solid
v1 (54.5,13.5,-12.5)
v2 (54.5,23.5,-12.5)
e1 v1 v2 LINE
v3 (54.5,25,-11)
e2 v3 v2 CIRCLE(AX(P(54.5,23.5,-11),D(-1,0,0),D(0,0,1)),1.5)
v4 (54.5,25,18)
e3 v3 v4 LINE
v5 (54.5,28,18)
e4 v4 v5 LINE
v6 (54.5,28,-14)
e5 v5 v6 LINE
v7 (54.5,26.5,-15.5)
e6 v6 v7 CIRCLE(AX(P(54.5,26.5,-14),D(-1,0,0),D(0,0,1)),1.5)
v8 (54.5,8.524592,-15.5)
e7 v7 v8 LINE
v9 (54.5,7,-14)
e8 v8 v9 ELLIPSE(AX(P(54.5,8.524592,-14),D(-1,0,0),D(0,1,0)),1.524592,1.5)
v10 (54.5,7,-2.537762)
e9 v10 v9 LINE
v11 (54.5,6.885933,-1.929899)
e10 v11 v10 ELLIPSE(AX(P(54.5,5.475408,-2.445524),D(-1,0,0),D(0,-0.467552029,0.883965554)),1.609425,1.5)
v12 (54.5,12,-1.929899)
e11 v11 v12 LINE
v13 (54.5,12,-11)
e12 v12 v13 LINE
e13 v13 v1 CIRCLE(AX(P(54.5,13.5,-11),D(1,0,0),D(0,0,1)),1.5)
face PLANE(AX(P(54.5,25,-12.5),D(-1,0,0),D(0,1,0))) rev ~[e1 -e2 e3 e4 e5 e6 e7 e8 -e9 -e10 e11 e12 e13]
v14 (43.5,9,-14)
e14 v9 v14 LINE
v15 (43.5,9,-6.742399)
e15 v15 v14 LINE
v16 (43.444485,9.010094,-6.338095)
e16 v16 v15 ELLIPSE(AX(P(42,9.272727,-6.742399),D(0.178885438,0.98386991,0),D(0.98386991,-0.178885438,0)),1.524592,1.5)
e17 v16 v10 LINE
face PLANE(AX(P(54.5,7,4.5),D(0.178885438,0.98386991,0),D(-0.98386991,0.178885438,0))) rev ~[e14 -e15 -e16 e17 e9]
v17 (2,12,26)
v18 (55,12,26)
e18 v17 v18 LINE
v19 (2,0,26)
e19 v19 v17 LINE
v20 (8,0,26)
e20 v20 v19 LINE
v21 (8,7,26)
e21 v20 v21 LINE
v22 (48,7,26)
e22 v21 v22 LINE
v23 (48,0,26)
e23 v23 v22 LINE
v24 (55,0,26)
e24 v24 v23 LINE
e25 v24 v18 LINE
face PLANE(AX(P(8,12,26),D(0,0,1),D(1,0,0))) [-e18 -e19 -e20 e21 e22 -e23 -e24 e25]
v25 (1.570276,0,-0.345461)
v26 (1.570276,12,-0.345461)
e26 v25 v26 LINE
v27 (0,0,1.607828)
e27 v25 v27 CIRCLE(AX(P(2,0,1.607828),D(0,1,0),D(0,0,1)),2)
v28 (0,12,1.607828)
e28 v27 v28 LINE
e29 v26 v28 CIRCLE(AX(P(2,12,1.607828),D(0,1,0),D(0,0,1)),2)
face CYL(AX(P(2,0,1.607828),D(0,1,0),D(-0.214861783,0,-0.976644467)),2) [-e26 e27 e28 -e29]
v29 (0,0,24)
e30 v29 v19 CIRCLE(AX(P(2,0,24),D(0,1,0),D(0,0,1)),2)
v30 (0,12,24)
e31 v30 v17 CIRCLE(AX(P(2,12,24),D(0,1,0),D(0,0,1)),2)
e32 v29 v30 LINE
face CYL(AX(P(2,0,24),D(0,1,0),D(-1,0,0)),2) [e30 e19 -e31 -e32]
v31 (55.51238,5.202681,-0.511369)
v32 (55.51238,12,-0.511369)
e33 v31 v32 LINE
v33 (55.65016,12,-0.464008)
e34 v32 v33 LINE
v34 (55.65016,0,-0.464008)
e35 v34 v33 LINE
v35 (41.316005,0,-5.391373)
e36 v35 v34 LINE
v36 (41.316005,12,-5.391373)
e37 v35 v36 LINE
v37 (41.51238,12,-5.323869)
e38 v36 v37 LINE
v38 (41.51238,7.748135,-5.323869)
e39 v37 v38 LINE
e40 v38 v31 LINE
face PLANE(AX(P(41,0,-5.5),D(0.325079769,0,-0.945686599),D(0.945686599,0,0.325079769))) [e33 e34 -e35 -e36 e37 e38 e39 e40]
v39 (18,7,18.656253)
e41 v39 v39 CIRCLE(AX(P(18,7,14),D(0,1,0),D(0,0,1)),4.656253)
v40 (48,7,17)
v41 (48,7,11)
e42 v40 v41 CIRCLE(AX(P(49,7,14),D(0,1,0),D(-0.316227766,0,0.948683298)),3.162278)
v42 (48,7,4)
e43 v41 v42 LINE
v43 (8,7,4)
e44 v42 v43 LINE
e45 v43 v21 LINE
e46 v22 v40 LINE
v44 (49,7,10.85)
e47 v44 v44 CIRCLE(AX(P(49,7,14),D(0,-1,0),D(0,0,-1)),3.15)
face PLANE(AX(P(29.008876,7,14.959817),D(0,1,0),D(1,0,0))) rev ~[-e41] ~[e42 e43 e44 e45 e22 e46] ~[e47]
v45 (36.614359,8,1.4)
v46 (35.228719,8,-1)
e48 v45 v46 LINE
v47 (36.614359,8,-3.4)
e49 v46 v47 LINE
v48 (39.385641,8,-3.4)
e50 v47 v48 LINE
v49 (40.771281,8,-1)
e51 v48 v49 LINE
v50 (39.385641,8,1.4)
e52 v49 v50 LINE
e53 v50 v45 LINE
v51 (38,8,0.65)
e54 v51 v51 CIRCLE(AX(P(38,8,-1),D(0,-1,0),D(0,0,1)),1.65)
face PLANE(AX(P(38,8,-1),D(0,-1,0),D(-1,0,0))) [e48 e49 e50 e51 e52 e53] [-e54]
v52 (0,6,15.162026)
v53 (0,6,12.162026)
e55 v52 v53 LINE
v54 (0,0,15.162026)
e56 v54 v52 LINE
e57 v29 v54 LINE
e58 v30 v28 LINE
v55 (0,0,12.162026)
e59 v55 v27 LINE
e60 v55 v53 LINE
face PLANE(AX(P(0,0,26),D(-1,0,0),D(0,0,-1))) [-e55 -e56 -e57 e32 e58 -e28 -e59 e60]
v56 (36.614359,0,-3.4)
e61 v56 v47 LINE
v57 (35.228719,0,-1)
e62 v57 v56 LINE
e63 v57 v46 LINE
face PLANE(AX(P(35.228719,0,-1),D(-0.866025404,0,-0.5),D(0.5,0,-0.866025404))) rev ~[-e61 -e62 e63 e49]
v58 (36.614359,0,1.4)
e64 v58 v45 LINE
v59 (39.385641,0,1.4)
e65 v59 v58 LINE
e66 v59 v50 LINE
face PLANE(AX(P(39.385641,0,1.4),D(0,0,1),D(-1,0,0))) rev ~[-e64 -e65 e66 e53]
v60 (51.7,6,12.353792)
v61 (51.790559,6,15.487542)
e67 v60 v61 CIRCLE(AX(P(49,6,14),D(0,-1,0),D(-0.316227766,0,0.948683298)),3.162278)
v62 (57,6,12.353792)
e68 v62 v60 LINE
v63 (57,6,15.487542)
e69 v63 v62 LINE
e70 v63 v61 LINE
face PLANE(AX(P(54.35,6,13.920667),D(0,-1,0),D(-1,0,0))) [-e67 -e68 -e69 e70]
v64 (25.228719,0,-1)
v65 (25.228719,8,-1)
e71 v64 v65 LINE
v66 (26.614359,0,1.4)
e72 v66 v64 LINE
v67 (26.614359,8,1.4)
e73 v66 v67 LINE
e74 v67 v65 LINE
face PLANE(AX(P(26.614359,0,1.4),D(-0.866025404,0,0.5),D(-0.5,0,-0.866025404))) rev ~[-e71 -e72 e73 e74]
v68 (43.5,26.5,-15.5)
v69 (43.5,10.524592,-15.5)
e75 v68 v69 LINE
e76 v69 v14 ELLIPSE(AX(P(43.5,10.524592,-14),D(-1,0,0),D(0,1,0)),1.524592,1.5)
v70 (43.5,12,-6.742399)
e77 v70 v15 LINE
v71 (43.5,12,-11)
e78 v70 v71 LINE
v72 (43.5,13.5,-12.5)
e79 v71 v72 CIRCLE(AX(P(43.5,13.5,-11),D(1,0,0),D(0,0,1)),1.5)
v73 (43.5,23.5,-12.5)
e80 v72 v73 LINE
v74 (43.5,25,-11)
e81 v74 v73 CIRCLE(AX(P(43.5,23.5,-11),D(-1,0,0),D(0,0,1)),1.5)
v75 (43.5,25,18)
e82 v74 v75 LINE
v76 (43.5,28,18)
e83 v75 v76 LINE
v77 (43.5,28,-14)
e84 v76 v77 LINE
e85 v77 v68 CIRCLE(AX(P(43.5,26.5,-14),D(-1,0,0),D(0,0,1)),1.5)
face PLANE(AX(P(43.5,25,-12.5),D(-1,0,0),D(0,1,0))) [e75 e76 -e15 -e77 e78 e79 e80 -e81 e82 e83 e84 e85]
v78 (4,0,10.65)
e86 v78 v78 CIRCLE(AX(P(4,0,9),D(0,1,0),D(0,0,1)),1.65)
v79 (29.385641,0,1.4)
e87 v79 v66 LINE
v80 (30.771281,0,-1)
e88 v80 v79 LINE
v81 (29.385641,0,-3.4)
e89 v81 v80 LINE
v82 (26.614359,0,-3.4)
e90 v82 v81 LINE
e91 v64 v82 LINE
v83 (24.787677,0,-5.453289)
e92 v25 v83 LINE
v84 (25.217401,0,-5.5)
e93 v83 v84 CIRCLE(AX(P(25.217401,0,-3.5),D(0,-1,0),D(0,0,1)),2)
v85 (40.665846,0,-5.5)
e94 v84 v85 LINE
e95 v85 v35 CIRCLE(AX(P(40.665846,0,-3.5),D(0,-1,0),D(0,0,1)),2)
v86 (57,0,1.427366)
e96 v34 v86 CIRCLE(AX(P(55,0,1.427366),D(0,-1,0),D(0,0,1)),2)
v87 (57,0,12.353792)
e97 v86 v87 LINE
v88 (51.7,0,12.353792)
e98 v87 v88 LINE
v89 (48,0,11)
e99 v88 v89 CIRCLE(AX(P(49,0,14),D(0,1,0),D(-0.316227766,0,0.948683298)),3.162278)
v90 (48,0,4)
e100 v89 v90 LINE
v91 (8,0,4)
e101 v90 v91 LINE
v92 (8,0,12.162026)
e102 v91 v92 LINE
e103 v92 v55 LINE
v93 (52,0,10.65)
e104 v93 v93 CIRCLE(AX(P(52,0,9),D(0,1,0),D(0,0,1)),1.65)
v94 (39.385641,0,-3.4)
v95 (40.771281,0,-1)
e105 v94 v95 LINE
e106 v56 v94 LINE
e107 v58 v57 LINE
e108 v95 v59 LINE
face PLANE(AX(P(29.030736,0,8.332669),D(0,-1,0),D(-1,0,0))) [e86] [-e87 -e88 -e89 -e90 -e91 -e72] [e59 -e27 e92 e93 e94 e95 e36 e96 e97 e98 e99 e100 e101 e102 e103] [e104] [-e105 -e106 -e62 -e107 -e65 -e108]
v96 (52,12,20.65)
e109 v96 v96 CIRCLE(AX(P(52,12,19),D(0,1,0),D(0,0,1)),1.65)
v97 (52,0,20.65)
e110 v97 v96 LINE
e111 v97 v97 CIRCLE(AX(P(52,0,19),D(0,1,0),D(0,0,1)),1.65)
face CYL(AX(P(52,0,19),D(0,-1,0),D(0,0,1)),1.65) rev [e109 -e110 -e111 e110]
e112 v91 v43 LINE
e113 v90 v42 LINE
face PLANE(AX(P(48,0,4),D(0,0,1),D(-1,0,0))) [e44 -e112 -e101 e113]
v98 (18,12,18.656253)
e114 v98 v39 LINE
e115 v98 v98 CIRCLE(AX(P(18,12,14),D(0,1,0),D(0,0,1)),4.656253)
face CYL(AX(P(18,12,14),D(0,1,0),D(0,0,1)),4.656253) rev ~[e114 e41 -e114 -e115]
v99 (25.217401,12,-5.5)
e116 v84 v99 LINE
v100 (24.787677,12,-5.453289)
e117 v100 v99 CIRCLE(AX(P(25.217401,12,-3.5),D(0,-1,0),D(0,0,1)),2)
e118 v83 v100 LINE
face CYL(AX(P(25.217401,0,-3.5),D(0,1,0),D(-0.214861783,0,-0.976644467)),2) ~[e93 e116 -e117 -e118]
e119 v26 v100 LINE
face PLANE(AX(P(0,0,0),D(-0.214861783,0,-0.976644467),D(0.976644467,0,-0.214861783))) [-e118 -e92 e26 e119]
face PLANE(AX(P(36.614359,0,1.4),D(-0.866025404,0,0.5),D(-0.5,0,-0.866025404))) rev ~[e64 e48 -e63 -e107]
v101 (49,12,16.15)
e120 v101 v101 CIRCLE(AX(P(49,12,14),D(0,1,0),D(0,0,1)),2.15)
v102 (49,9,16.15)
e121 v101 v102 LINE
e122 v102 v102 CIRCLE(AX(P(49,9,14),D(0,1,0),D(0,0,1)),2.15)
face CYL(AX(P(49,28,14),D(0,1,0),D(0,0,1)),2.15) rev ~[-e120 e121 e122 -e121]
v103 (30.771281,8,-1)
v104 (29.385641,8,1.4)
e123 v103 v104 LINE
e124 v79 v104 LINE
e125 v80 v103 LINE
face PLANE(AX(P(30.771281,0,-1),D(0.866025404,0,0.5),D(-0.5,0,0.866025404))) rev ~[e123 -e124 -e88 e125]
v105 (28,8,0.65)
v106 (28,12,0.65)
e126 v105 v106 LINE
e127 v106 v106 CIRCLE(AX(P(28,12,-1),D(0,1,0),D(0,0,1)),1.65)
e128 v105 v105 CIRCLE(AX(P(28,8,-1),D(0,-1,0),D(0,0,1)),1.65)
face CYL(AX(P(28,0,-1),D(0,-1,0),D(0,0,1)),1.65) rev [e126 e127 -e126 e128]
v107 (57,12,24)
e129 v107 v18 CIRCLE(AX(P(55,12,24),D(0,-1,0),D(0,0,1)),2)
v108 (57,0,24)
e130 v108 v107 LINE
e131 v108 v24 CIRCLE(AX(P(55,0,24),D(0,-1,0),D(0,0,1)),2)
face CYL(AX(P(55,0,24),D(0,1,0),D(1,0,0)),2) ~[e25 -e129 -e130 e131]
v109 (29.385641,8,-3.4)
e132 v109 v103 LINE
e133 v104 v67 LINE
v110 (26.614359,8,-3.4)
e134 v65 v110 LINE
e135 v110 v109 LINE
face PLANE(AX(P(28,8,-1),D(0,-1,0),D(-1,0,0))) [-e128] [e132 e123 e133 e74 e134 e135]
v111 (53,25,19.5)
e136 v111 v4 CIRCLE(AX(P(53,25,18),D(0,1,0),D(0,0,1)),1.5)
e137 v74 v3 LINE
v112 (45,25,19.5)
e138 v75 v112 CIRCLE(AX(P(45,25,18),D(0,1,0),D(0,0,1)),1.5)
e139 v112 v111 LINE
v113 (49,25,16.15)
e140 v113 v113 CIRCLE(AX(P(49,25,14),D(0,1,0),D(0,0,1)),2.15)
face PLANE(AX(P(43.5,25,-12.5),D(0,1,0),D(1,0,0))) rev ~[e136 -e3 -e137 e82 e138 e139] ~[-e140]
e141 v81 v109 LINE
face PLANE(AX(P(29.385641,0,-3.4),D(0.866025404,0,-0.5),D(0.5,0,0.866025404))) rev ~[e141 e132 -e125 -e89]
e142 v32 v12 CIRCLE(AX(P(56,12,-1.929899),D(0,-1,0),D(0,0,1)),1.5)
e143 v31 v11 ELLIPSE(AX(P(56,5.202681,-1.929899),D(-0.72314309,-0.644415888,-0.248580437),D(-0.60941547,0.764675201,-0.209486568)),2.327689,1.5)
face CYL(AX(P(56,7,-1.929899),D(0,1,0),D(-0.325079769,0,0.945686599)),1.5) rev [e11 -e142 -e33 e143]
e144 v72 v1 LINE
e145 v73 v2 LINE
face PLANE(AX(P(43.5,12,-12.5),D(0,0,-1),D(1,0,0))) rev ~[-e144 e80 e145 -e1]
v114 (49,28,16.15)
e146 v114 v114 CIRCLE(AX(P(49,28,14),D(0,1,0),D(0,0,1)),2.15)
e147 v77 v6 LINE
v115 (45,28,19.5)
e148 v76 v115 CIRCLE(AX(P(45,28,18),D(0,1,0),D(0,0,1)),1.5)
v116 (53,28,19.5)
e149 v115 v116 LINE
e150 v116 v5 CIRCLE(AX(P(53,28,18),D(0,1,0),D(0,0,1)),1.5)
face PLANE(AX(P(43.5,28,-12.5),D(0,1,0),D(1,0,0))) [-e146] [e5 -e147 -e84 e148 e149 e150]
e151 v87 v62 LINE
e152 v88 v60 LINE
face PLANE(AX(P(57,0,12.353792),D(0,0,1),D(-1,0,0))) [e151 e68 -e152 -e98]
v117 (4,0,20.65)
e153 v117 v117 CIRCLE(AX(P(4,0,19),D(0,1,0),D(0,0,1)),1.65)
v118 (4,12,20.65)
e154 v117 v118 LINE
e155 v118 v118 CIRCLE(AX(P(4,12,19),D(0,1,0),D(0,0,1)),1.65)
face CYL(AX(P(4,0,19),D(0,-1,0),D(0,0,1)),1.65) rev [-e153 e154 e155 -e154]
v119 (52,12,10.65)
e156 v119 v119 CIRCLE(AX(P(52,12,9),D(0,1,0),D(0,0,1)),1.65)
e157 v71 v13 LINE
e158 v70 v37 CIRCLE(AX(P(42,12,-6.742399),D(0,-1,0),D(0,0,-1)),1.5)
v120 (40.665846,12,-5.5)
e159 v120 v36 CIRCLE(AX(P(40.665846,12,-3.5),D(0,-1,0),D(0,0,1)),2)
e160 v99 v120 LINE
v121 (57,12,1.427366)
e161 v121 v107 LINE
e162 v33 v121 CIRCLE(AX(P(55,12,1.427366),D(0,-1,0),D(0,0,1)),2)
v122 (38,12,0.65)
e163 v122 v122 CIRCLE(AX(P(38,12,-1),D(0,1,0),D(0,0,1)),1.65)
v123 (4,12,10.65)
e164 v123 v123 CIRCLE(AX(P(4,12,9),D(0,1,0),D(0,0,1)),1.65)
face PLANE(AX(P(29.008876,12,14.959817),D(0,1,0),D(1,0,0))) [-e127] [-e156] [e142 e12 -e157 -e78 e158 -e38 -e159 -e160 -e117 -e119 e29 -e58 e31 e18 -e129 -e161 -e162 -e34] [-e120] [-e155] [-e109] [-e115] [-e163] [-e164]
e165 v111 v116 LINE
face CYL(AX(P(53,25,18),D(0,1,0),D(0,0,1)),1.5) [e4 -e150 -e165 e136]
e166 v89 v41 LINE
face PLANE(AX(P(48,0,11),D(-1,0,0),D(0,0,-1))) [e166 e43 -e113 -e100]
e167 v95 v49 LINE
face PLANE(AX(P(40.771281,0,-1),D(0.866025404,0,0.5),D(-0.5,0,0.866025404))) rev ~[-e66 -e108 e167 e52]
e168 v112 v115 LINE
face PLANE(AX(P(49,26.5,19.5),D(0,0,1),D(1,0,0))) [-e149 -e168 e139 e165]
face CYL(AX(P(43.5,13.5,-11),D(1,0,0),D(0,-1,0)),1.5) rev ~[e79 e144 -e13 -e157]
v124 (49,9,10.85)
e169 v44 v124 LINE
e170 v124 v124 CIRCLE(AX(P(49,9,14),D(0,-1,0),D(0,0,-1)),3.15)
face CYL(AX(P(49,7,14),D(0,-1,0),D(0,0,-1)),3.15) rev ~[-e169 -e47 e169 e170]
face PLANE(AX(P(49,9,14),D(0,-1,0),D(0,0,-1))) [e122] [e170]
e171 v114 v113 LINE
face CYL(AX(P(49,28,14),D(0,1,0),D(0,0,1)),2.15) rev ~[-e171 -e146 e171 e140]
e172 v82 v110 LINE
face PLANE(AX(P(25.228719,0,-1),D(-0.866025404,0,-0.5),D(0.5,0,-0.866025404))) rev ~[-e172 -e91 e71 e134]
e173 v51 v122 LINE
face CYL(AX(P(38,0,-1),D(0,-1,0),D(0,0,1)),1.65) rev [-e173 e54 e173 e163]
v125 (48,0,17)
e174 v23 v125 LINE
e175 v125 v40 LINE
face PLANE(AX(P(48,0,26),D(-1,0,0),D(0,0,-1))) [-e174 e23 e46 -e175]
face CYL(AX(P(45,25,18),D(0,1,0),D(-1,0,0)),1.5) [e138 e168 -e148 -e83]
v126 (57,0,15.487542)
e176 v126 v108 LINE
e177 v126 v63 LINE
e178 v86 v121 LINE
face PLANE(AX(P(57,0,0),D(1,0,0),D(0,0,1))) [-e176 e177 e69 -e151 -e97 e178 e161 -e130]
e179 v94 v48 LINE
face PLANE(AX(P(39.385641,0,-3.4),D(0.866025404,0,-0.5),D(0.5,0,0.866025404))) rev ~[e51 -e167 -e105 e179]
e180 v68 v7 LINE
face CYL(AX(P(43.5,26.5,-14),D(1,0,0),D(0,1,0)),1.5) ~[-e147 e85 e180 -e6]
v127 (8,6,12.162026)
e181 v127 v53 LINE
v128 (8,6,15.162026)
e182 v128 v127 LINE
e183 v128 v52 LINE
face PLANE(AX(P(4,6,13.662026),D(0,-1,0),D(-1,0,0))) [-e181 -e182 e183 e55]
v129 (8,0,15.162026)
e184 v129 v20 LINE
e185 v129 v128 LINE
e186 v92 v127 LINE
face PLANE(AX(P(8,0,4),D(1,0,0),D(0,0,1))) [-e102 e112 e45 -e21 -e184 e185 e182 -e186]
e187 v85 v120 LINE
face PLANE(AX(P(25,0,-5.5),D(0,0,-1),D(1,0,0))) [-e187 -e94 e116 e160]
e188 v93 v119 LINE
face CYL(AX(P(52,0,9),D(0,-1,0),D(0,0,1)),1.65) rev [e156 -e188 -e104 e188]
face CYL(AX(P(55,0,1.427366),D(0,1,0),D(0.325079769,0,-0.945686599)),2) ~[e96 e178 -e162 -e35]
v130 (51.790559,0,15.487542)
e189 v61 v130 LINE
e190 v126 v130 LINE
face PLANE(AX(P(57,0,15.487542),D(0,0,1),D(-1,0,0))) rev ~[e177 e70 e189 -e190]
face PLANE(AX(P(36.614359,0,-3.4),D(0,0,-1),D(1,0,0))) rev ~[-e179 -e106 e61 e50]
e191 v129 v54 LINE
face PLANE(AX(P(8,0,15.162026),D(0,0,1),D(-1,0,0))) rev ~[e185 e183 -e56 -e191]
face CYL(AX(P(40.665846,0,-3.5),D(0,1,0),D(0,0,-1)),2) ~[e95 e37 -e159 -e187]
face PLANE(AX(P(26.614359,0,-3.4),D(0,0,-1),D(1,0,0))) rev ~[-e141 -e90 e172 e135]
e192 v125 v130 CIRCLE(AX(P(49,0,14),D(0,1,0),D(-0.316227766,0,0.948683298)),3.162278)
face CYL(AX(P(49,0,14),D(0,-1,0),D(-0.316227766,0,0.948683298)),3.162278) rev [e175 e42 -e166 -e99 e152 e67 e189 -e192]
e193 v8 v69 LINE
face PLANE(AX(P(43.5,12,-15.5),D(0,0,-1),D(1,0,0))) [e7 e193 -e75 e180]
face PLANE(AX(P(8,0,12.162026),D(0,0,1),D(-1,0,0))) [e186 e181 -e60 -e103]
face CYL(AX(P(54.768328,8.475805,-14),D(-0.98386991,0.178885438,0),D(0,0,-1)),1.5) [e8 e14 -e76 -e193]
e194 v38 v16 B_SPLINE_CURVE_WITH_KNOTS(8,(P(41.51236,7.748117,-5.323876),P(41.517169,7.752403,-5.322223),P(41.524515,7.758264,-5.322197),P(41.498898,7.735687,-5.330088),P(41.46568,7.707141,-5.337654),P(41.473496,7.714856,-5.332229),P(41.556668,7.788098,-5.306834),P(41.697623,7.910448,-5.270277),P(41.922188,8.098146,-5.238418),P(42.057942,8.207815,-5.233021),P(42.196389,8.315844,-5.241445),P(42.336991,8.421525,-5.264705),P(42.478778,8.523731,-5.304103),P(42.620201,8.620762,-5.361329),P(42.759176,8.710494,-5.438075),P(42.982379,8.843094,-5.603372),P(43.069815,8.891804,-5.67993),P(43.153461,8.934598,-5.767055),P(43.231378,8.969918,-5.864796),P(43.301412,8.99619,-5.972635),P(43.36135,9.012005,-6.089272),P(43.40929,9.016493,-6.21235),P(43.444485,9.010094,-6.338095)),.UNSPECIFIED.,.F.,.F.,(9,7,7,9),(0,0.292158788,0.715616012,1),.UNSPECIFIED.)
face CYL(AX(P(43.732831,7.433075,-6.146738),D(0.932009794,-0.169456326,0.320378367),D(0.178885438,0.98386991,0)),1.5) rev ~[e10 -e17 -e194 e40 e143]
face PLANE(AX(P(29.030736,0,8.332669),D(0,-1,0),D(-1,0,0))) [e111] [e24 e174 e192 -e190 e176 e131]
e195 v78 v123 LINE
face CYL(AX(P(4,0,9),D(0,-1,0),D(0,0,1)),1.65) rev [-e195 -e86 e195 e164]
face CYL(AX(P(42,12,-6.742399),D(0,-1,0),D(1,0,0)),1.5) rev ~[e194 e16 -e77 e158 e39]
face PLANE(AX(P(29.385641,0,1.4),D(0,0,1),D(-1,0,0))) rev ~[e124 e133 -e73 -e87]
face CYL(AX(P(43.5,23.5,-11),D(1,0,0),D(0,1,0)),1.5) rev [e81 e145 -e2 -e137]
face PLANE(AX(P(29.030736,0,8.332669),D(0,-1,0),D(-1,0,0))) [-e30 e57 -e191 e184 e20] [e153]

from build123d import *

# Parameters (mm, degrees)
SKETCH_1_R           = 1.6500000000000006
SKETCH_1_R_2         = 1.6500000000000001
SKETCH_1_R_3         = 1.6500000000000028
SKETCH_1_R_4         = 1.6500000000000017
SKETCH_1_R_5         = 1.6499999999999986
SKETCH_1_R_6         = 1.6499999999999955
EXTRUDE_1_DEPTH      = 12
CUT_EXTRUDE_1_DEPTH  = 8
FILLET_1_R           = 2
SKETCH_5_R           = 1.5499999999999978
EXTRUDE_3_DEPTH      = 5
SKETCH_5_R_2         = 1.5500000000000012
EXTRUDE_3_2_DEPTH    = 5
SKETCH_5_R_3         = 4.656253475136203
EXTRUDE_3_3_DEPTH    = 5
SKETCH_7_R           = 3.149999999999999
CUT_EXTRUDE_2_DEPTH  = 2
SKETCH_8_W           = 8
SKETCH_8_H           = 3
SKETCH_8_W_2         = 5.29999999999999
SKETCH_8_H_2         = 3.1337502138362687
CUT_EXTRUDE_3_DEPTH  = 6
SKETCH_6_R           = 1.5499999999999974
SKETCH_6_R_2         = 1.5500000000000012
CUT_EXTRUDE_4_DEPTH  = 10
EXTRUDE_9_DEPTH      = 10
EXTRUDE_9_DEPTH_BACK = 10
SKETCH_18_W          = 11.000000000000007
SKETCH_18_H          = 3
EXTRUDE_10_DEPTH     = 16
SKETCH_19_W          = 11.000000000000007
SKETCH_19_H          = 3
EXTRUDE_11_DEPTH     = 32
SKETCH_20_R          = 2.1500000000000012
CUT_EXTRUDE_7_DEPTH  = 22
FILLET_4_R           = 1.5


with BuildPart() as part:
    # 草图1 → 凸台-拉伸1 (new body)
    with BuildSketch(Plane(origin=(0, 0, 0), x_dir=(1, 0, 0), z_dir=(0, 1, 0))):
        with BuildLine():
            Line((0, 0), (25, 5.5))
            Line((25, 5.5), (41, 5.5))
            Line((41, 5.5), (57, 0))
            Line((57, 0), (57, -26.000000000000004))
            Line((57, -26.000000000000004), (48, -26.000000000000004))
            Line((48, -26.000000000000004), (48, -17.000000000000004))
            ThreePointArc((48, -17.000000000000004), (52.16227766016838, -14.000000000000004), (48, -11.000000000000004))
            Line((48, -11.000000000000004), (48, -4.0000000000000036))
            Line((48, -4.0000000000000036), (8.000000000000004, -4.0000000000000036))
            Line((8.000000000000004, -4.0000000000000036), (8.000000000000004, -26.000000000000004))
            Line((8.000000000000004, -26.000000000000004), (0, -26.000000000000004))
            Line((0, -26.000000000000004), (0, 0))
        make_face()
        with Locations(Location((4.000000000000001, -9.000000000000002, 0), (0, 0, 270))):
            Circle(SKETCH_1_R, mode=Mode.SUBTRACT)
        with Locations(Location((4.000000000000001, -19.000000000000004, 0), (0, 0, 270))):
            Circle(SKETCH_1_R_2, mode=Mode.SUBTRACT)
        with Locations(Location((52.00000000000001, -9.000000000000002, 0), (0, 0, 270))):
            Circle(SKETCH_1_R_3, mode=Mode.SUBTRACT)
        with Locations(Location((52.00000000000001, -19.000000000000004, 0), (0, 0, 270))):
            Circle(SKETCH_1_R_4, mode=Mode.SUBTRACT)
        with Locations(Location((28, 0.9999999999999966, 0), (0, 0, 270))):
            Circle(SKETCH_1_R_5, mode=Mode.SUBTRACT)
        with Locations(Location((38, 0.9999999999999966, 0), (0, 0, 270))):
            Circle(SKETCH_1_R_6, mode=Mode.SUBTRACT)
    extrude(amount=EXTRUDE_1_DEPTH)

    # 草图2 → 切除-拉伸1 (cut)
    with BuildSketch(Plane(origin=(0, 0, 0), x_dir=(-1, 0, 0), z_dir=(0, -1, 0))):
        Polygon((-26.614359353944906, -1.400000000000001), (-25.2287187078898, 1.0000000000000004), (-26.614359353944902, 3.399999999999998), (-29.3856406460551, 3.399999999999998), (-30.771281292110206, 1), (-29.3856406460551, -1.4000000000000015), align=None)
        Polygon((-36.6143593539449, -1.400000000000001), (-35.2287187078898, 1.0000000000000004), (-36.6143593539449, 3.399999999999998), (-39.385640646055094, 3.399999999999998), (-40.7712812921102, 1), (-39.385640646055094, -1.4000000000000015), align=None)
    extrude(amount=-CUT_EXTRUDE_1_DEPTH, mode=Mode.SUBTRACT)

    # 圆角1
    fillet_1_edges = [part.edges().sort_by_distance(p)[0] for p in [
        (0, 6, 0),
        (25, 6, -5.5),
        (41, 6, -5.5),
        (57, 6, 0),
        (57, 6, 26.000000000000004),
        (0, 6, 26.000000000000004),
    ]]
    fillet(fillet_1_edges, radius=FILLET_1_R)

    # 草图8 → 切除-拉伸3 (cut)
    with BuildSketch(Plane(origin=(0, 0, 0), x_dir=(-1, 0, 0), z_dir=(0, -1, 0))):
        with Locations((-4.0000000000000036, -13.662025546184847)):
            Rectangle(SKETCH_8_W, SKETCH_8_H)
        with Locations((-54.35000000000001, -13.920667343602716)):
            Rectangle(SKETCH_8_W_2, SKETCH_8_H_2)
    extrude(amount=-CUT_EXTRUDE_3_DEPTH, mode=Mode.SUBTRACT)



with BuildPart() as body_2:
    # 草图5 → 凸台-拉伸3 (new body)
    with BuildSketch(Plane(origin=(0, 12, 0), x_dir=(1, 0, 0), z_dir=(0, 1, 0))):
        with Locations(Location((28, 0.9999999999999966, 0), (0, 0, 270))):
            Circle(SKETCH_5_R)
    extrude(amount=-EXTRUDE_3_DEPTH)


with BuildPart() as body_3:
    # 草图5 → Extrude 3 2 (new body)
    with BuildSketch(Plane(origin=(0, 12, 0), x_dir=(1, 0, 0), z_dir=(0, 1, 0))):
        with Locations(Location((38, 0.9999999999999966, 0), (0, 0, 270))):
            Circle(SKETCH_5_R_2)
    extrude(amount=-EXTRUDE_3_2_DEPTH)


with BuildPart() as body_4:
    # 草图5 → Extrude 3 3 (new body)
    with BuildSketch(Plane(origin=(0, 12, 0), x_dir=(1, 0, 0), z_dir=(0, 1, 0))):
        with BuildLine():
            Line((48, -11.000000000000004), (48, -4.0000000000000036))
            Line((48, -4.0000000000000036), (8.000000000000004, -4.0000000000000036))
            Line((8.000000000000004, -4.0000000000000036), (8.000000000000004, -26.000000000000004))
            Line((8.000000000000004, -26.000000000000004), (48, -26.000000000000004))
            Line((48, -26.000000000000004), (48, -17.000000000000004))
            ThreePointArc((48, -17.000000000000004), (52.16227766016838, -14.000000000000004), (48, -11.000000000000004))
        make_face()
        with Locations(Location((49, -14.000000000000004, 0), (0, 0, 270))):
            Circle(SKETCH_5_R_2, mode=Mode.SUBTRACT)
        with Locations(Location((18, -14.000000000000002, 0), (0, 0, 270))):
            Circle(SKETCH_5_R_3, mode=Mode.SUBTRACT)
    extrude(amount=-EXTRUDE_3_3_DEPTH)

    # 草图7 → 切除-拉伸2 (cut)
    with BuildSketch(Plane(origin=(0, 7, 0), x_dir=(-1, 0, 0), z_dir=(0, -1, 0))):
        with Locations(Location((-49, -14.000000000000004, 0), (0, 0, 90))):
            Circle(SKETCH_7_R)
    extrude(amount=-CUT_EXTRUDE_2_DEPTH, mode=Mode.SUBTRACT)


with BuildPart() as cut_extrude_4_tool:
    # 草图6 → 切除-拉伸4 (new body)
    with BuildSketch(Plane(origin=(0, 7, 0), x_dir=(-1, 0, 0), z_dir=(0, -1, 0))):
        with Locations((-28, 0.9999999999999966)):
            Circle(SKETCH_6_R)
        with Locations((-38, 0.9999999999999966)):
            Circle(SKETCH_6_R_2)
    extrude(amount=-CUT_EXTRUDE_4_DEPTH)


with BuildPart() as body_2_1:
    add(body_2.part)

    # 切除-拉伸4: cut by cut_extrude_4_tool
    add(cut_extrude_4_tool.part, mode=Mode.SUBTRACT)


with BuildPart() as body_3_1:
    add(body_3.part)

    # 切除-拉伸4: cut by cut_extrude_4_tool
    add(cut_extrude_4_tool.part, mode=Mode.SUBTRACT)


with BuildPart() as part_1:
    add(part.part)

    add(body_4.part)  # 凸台-拉伸9 merges body 4
    # 草图17 → 凸台-拉伸9 (add, two sides: drawn at the far end of the back side and taken through both)
    with BuildSketch(Plane(origin=(0, 0, -5.5), x_dir=(-1, 0, 0), z_dir=(0, 0, -1)).offset(-EXTRUDE_9_DEPTH_BACK)):
        Polygon((-43.5, 12), (-54.5, 11.999999999999998), (-54.5, 6.999999999999999), (-43.5, 9.000000000000002), align=None)
    extrude(amount=EXTRUDE_9_DEPTH + EXTRUDE_9_DEPTH_BACK)

    # 草图18 → 凸台-拉伸10 (add)
    with BuildSketch(Plane(origin=(0, 12, 0), x_dir=(1, 0, 0), z_dir=(0, 1, 0))):
        with Locations((49, 14.000000000000002)):
            Rectangle(SKETCH_18_W, SKETCH_18_H)
    extrude(amount=EXTRUDE_10_DEPTH)

    # 草图19 → 凸台-拉伸11 (add)
    with BuildSketch(Plane.XY.offset(-12.5)):
        with Locations((49, 26.500000000000004)):
            Rectangle(SKETCH_19_W, SKETCH_19_H)
    extrude(amount=EXTRUDE_11_DEPTH)

    # 草图20 → 切除-拉伸7 (cut)
    with BuildSketch(Plane(origin=(0, 28, 0), x_dir=(1, 0, 0), z_dir=(0, 1, 0))):
        with Locations(Location((49, -14.000000000000004, 0), (0, 0, 270))):
            Circle(SKETCH_20_R)
    extrude(amount=-CUT_EXTRUDE_7_DEPTH, mode=Mode.SUBTRACT)

    # 圆角4
    fillet_4_edges = [part_1.edges().sort_by_distance(p)[0] for p in [
        (49, 12, -12.5),
        (49, 28, -15.5),
        (49, 25, -12.5),
        (43.5, 26.5, 19.5),
        (54.5, 26.5, 19.5),
        (49, 8, -15.5),
        (54.5, 9.499999999999998, -0.8593749999999969),
        (49, 8, -2.749999999999998),
        (43.5, 10.5, -4.640624999999999),
    ]]
    fillet(fillet_4_edges, radius=FILLET_4_R)


solid = part_1.part
